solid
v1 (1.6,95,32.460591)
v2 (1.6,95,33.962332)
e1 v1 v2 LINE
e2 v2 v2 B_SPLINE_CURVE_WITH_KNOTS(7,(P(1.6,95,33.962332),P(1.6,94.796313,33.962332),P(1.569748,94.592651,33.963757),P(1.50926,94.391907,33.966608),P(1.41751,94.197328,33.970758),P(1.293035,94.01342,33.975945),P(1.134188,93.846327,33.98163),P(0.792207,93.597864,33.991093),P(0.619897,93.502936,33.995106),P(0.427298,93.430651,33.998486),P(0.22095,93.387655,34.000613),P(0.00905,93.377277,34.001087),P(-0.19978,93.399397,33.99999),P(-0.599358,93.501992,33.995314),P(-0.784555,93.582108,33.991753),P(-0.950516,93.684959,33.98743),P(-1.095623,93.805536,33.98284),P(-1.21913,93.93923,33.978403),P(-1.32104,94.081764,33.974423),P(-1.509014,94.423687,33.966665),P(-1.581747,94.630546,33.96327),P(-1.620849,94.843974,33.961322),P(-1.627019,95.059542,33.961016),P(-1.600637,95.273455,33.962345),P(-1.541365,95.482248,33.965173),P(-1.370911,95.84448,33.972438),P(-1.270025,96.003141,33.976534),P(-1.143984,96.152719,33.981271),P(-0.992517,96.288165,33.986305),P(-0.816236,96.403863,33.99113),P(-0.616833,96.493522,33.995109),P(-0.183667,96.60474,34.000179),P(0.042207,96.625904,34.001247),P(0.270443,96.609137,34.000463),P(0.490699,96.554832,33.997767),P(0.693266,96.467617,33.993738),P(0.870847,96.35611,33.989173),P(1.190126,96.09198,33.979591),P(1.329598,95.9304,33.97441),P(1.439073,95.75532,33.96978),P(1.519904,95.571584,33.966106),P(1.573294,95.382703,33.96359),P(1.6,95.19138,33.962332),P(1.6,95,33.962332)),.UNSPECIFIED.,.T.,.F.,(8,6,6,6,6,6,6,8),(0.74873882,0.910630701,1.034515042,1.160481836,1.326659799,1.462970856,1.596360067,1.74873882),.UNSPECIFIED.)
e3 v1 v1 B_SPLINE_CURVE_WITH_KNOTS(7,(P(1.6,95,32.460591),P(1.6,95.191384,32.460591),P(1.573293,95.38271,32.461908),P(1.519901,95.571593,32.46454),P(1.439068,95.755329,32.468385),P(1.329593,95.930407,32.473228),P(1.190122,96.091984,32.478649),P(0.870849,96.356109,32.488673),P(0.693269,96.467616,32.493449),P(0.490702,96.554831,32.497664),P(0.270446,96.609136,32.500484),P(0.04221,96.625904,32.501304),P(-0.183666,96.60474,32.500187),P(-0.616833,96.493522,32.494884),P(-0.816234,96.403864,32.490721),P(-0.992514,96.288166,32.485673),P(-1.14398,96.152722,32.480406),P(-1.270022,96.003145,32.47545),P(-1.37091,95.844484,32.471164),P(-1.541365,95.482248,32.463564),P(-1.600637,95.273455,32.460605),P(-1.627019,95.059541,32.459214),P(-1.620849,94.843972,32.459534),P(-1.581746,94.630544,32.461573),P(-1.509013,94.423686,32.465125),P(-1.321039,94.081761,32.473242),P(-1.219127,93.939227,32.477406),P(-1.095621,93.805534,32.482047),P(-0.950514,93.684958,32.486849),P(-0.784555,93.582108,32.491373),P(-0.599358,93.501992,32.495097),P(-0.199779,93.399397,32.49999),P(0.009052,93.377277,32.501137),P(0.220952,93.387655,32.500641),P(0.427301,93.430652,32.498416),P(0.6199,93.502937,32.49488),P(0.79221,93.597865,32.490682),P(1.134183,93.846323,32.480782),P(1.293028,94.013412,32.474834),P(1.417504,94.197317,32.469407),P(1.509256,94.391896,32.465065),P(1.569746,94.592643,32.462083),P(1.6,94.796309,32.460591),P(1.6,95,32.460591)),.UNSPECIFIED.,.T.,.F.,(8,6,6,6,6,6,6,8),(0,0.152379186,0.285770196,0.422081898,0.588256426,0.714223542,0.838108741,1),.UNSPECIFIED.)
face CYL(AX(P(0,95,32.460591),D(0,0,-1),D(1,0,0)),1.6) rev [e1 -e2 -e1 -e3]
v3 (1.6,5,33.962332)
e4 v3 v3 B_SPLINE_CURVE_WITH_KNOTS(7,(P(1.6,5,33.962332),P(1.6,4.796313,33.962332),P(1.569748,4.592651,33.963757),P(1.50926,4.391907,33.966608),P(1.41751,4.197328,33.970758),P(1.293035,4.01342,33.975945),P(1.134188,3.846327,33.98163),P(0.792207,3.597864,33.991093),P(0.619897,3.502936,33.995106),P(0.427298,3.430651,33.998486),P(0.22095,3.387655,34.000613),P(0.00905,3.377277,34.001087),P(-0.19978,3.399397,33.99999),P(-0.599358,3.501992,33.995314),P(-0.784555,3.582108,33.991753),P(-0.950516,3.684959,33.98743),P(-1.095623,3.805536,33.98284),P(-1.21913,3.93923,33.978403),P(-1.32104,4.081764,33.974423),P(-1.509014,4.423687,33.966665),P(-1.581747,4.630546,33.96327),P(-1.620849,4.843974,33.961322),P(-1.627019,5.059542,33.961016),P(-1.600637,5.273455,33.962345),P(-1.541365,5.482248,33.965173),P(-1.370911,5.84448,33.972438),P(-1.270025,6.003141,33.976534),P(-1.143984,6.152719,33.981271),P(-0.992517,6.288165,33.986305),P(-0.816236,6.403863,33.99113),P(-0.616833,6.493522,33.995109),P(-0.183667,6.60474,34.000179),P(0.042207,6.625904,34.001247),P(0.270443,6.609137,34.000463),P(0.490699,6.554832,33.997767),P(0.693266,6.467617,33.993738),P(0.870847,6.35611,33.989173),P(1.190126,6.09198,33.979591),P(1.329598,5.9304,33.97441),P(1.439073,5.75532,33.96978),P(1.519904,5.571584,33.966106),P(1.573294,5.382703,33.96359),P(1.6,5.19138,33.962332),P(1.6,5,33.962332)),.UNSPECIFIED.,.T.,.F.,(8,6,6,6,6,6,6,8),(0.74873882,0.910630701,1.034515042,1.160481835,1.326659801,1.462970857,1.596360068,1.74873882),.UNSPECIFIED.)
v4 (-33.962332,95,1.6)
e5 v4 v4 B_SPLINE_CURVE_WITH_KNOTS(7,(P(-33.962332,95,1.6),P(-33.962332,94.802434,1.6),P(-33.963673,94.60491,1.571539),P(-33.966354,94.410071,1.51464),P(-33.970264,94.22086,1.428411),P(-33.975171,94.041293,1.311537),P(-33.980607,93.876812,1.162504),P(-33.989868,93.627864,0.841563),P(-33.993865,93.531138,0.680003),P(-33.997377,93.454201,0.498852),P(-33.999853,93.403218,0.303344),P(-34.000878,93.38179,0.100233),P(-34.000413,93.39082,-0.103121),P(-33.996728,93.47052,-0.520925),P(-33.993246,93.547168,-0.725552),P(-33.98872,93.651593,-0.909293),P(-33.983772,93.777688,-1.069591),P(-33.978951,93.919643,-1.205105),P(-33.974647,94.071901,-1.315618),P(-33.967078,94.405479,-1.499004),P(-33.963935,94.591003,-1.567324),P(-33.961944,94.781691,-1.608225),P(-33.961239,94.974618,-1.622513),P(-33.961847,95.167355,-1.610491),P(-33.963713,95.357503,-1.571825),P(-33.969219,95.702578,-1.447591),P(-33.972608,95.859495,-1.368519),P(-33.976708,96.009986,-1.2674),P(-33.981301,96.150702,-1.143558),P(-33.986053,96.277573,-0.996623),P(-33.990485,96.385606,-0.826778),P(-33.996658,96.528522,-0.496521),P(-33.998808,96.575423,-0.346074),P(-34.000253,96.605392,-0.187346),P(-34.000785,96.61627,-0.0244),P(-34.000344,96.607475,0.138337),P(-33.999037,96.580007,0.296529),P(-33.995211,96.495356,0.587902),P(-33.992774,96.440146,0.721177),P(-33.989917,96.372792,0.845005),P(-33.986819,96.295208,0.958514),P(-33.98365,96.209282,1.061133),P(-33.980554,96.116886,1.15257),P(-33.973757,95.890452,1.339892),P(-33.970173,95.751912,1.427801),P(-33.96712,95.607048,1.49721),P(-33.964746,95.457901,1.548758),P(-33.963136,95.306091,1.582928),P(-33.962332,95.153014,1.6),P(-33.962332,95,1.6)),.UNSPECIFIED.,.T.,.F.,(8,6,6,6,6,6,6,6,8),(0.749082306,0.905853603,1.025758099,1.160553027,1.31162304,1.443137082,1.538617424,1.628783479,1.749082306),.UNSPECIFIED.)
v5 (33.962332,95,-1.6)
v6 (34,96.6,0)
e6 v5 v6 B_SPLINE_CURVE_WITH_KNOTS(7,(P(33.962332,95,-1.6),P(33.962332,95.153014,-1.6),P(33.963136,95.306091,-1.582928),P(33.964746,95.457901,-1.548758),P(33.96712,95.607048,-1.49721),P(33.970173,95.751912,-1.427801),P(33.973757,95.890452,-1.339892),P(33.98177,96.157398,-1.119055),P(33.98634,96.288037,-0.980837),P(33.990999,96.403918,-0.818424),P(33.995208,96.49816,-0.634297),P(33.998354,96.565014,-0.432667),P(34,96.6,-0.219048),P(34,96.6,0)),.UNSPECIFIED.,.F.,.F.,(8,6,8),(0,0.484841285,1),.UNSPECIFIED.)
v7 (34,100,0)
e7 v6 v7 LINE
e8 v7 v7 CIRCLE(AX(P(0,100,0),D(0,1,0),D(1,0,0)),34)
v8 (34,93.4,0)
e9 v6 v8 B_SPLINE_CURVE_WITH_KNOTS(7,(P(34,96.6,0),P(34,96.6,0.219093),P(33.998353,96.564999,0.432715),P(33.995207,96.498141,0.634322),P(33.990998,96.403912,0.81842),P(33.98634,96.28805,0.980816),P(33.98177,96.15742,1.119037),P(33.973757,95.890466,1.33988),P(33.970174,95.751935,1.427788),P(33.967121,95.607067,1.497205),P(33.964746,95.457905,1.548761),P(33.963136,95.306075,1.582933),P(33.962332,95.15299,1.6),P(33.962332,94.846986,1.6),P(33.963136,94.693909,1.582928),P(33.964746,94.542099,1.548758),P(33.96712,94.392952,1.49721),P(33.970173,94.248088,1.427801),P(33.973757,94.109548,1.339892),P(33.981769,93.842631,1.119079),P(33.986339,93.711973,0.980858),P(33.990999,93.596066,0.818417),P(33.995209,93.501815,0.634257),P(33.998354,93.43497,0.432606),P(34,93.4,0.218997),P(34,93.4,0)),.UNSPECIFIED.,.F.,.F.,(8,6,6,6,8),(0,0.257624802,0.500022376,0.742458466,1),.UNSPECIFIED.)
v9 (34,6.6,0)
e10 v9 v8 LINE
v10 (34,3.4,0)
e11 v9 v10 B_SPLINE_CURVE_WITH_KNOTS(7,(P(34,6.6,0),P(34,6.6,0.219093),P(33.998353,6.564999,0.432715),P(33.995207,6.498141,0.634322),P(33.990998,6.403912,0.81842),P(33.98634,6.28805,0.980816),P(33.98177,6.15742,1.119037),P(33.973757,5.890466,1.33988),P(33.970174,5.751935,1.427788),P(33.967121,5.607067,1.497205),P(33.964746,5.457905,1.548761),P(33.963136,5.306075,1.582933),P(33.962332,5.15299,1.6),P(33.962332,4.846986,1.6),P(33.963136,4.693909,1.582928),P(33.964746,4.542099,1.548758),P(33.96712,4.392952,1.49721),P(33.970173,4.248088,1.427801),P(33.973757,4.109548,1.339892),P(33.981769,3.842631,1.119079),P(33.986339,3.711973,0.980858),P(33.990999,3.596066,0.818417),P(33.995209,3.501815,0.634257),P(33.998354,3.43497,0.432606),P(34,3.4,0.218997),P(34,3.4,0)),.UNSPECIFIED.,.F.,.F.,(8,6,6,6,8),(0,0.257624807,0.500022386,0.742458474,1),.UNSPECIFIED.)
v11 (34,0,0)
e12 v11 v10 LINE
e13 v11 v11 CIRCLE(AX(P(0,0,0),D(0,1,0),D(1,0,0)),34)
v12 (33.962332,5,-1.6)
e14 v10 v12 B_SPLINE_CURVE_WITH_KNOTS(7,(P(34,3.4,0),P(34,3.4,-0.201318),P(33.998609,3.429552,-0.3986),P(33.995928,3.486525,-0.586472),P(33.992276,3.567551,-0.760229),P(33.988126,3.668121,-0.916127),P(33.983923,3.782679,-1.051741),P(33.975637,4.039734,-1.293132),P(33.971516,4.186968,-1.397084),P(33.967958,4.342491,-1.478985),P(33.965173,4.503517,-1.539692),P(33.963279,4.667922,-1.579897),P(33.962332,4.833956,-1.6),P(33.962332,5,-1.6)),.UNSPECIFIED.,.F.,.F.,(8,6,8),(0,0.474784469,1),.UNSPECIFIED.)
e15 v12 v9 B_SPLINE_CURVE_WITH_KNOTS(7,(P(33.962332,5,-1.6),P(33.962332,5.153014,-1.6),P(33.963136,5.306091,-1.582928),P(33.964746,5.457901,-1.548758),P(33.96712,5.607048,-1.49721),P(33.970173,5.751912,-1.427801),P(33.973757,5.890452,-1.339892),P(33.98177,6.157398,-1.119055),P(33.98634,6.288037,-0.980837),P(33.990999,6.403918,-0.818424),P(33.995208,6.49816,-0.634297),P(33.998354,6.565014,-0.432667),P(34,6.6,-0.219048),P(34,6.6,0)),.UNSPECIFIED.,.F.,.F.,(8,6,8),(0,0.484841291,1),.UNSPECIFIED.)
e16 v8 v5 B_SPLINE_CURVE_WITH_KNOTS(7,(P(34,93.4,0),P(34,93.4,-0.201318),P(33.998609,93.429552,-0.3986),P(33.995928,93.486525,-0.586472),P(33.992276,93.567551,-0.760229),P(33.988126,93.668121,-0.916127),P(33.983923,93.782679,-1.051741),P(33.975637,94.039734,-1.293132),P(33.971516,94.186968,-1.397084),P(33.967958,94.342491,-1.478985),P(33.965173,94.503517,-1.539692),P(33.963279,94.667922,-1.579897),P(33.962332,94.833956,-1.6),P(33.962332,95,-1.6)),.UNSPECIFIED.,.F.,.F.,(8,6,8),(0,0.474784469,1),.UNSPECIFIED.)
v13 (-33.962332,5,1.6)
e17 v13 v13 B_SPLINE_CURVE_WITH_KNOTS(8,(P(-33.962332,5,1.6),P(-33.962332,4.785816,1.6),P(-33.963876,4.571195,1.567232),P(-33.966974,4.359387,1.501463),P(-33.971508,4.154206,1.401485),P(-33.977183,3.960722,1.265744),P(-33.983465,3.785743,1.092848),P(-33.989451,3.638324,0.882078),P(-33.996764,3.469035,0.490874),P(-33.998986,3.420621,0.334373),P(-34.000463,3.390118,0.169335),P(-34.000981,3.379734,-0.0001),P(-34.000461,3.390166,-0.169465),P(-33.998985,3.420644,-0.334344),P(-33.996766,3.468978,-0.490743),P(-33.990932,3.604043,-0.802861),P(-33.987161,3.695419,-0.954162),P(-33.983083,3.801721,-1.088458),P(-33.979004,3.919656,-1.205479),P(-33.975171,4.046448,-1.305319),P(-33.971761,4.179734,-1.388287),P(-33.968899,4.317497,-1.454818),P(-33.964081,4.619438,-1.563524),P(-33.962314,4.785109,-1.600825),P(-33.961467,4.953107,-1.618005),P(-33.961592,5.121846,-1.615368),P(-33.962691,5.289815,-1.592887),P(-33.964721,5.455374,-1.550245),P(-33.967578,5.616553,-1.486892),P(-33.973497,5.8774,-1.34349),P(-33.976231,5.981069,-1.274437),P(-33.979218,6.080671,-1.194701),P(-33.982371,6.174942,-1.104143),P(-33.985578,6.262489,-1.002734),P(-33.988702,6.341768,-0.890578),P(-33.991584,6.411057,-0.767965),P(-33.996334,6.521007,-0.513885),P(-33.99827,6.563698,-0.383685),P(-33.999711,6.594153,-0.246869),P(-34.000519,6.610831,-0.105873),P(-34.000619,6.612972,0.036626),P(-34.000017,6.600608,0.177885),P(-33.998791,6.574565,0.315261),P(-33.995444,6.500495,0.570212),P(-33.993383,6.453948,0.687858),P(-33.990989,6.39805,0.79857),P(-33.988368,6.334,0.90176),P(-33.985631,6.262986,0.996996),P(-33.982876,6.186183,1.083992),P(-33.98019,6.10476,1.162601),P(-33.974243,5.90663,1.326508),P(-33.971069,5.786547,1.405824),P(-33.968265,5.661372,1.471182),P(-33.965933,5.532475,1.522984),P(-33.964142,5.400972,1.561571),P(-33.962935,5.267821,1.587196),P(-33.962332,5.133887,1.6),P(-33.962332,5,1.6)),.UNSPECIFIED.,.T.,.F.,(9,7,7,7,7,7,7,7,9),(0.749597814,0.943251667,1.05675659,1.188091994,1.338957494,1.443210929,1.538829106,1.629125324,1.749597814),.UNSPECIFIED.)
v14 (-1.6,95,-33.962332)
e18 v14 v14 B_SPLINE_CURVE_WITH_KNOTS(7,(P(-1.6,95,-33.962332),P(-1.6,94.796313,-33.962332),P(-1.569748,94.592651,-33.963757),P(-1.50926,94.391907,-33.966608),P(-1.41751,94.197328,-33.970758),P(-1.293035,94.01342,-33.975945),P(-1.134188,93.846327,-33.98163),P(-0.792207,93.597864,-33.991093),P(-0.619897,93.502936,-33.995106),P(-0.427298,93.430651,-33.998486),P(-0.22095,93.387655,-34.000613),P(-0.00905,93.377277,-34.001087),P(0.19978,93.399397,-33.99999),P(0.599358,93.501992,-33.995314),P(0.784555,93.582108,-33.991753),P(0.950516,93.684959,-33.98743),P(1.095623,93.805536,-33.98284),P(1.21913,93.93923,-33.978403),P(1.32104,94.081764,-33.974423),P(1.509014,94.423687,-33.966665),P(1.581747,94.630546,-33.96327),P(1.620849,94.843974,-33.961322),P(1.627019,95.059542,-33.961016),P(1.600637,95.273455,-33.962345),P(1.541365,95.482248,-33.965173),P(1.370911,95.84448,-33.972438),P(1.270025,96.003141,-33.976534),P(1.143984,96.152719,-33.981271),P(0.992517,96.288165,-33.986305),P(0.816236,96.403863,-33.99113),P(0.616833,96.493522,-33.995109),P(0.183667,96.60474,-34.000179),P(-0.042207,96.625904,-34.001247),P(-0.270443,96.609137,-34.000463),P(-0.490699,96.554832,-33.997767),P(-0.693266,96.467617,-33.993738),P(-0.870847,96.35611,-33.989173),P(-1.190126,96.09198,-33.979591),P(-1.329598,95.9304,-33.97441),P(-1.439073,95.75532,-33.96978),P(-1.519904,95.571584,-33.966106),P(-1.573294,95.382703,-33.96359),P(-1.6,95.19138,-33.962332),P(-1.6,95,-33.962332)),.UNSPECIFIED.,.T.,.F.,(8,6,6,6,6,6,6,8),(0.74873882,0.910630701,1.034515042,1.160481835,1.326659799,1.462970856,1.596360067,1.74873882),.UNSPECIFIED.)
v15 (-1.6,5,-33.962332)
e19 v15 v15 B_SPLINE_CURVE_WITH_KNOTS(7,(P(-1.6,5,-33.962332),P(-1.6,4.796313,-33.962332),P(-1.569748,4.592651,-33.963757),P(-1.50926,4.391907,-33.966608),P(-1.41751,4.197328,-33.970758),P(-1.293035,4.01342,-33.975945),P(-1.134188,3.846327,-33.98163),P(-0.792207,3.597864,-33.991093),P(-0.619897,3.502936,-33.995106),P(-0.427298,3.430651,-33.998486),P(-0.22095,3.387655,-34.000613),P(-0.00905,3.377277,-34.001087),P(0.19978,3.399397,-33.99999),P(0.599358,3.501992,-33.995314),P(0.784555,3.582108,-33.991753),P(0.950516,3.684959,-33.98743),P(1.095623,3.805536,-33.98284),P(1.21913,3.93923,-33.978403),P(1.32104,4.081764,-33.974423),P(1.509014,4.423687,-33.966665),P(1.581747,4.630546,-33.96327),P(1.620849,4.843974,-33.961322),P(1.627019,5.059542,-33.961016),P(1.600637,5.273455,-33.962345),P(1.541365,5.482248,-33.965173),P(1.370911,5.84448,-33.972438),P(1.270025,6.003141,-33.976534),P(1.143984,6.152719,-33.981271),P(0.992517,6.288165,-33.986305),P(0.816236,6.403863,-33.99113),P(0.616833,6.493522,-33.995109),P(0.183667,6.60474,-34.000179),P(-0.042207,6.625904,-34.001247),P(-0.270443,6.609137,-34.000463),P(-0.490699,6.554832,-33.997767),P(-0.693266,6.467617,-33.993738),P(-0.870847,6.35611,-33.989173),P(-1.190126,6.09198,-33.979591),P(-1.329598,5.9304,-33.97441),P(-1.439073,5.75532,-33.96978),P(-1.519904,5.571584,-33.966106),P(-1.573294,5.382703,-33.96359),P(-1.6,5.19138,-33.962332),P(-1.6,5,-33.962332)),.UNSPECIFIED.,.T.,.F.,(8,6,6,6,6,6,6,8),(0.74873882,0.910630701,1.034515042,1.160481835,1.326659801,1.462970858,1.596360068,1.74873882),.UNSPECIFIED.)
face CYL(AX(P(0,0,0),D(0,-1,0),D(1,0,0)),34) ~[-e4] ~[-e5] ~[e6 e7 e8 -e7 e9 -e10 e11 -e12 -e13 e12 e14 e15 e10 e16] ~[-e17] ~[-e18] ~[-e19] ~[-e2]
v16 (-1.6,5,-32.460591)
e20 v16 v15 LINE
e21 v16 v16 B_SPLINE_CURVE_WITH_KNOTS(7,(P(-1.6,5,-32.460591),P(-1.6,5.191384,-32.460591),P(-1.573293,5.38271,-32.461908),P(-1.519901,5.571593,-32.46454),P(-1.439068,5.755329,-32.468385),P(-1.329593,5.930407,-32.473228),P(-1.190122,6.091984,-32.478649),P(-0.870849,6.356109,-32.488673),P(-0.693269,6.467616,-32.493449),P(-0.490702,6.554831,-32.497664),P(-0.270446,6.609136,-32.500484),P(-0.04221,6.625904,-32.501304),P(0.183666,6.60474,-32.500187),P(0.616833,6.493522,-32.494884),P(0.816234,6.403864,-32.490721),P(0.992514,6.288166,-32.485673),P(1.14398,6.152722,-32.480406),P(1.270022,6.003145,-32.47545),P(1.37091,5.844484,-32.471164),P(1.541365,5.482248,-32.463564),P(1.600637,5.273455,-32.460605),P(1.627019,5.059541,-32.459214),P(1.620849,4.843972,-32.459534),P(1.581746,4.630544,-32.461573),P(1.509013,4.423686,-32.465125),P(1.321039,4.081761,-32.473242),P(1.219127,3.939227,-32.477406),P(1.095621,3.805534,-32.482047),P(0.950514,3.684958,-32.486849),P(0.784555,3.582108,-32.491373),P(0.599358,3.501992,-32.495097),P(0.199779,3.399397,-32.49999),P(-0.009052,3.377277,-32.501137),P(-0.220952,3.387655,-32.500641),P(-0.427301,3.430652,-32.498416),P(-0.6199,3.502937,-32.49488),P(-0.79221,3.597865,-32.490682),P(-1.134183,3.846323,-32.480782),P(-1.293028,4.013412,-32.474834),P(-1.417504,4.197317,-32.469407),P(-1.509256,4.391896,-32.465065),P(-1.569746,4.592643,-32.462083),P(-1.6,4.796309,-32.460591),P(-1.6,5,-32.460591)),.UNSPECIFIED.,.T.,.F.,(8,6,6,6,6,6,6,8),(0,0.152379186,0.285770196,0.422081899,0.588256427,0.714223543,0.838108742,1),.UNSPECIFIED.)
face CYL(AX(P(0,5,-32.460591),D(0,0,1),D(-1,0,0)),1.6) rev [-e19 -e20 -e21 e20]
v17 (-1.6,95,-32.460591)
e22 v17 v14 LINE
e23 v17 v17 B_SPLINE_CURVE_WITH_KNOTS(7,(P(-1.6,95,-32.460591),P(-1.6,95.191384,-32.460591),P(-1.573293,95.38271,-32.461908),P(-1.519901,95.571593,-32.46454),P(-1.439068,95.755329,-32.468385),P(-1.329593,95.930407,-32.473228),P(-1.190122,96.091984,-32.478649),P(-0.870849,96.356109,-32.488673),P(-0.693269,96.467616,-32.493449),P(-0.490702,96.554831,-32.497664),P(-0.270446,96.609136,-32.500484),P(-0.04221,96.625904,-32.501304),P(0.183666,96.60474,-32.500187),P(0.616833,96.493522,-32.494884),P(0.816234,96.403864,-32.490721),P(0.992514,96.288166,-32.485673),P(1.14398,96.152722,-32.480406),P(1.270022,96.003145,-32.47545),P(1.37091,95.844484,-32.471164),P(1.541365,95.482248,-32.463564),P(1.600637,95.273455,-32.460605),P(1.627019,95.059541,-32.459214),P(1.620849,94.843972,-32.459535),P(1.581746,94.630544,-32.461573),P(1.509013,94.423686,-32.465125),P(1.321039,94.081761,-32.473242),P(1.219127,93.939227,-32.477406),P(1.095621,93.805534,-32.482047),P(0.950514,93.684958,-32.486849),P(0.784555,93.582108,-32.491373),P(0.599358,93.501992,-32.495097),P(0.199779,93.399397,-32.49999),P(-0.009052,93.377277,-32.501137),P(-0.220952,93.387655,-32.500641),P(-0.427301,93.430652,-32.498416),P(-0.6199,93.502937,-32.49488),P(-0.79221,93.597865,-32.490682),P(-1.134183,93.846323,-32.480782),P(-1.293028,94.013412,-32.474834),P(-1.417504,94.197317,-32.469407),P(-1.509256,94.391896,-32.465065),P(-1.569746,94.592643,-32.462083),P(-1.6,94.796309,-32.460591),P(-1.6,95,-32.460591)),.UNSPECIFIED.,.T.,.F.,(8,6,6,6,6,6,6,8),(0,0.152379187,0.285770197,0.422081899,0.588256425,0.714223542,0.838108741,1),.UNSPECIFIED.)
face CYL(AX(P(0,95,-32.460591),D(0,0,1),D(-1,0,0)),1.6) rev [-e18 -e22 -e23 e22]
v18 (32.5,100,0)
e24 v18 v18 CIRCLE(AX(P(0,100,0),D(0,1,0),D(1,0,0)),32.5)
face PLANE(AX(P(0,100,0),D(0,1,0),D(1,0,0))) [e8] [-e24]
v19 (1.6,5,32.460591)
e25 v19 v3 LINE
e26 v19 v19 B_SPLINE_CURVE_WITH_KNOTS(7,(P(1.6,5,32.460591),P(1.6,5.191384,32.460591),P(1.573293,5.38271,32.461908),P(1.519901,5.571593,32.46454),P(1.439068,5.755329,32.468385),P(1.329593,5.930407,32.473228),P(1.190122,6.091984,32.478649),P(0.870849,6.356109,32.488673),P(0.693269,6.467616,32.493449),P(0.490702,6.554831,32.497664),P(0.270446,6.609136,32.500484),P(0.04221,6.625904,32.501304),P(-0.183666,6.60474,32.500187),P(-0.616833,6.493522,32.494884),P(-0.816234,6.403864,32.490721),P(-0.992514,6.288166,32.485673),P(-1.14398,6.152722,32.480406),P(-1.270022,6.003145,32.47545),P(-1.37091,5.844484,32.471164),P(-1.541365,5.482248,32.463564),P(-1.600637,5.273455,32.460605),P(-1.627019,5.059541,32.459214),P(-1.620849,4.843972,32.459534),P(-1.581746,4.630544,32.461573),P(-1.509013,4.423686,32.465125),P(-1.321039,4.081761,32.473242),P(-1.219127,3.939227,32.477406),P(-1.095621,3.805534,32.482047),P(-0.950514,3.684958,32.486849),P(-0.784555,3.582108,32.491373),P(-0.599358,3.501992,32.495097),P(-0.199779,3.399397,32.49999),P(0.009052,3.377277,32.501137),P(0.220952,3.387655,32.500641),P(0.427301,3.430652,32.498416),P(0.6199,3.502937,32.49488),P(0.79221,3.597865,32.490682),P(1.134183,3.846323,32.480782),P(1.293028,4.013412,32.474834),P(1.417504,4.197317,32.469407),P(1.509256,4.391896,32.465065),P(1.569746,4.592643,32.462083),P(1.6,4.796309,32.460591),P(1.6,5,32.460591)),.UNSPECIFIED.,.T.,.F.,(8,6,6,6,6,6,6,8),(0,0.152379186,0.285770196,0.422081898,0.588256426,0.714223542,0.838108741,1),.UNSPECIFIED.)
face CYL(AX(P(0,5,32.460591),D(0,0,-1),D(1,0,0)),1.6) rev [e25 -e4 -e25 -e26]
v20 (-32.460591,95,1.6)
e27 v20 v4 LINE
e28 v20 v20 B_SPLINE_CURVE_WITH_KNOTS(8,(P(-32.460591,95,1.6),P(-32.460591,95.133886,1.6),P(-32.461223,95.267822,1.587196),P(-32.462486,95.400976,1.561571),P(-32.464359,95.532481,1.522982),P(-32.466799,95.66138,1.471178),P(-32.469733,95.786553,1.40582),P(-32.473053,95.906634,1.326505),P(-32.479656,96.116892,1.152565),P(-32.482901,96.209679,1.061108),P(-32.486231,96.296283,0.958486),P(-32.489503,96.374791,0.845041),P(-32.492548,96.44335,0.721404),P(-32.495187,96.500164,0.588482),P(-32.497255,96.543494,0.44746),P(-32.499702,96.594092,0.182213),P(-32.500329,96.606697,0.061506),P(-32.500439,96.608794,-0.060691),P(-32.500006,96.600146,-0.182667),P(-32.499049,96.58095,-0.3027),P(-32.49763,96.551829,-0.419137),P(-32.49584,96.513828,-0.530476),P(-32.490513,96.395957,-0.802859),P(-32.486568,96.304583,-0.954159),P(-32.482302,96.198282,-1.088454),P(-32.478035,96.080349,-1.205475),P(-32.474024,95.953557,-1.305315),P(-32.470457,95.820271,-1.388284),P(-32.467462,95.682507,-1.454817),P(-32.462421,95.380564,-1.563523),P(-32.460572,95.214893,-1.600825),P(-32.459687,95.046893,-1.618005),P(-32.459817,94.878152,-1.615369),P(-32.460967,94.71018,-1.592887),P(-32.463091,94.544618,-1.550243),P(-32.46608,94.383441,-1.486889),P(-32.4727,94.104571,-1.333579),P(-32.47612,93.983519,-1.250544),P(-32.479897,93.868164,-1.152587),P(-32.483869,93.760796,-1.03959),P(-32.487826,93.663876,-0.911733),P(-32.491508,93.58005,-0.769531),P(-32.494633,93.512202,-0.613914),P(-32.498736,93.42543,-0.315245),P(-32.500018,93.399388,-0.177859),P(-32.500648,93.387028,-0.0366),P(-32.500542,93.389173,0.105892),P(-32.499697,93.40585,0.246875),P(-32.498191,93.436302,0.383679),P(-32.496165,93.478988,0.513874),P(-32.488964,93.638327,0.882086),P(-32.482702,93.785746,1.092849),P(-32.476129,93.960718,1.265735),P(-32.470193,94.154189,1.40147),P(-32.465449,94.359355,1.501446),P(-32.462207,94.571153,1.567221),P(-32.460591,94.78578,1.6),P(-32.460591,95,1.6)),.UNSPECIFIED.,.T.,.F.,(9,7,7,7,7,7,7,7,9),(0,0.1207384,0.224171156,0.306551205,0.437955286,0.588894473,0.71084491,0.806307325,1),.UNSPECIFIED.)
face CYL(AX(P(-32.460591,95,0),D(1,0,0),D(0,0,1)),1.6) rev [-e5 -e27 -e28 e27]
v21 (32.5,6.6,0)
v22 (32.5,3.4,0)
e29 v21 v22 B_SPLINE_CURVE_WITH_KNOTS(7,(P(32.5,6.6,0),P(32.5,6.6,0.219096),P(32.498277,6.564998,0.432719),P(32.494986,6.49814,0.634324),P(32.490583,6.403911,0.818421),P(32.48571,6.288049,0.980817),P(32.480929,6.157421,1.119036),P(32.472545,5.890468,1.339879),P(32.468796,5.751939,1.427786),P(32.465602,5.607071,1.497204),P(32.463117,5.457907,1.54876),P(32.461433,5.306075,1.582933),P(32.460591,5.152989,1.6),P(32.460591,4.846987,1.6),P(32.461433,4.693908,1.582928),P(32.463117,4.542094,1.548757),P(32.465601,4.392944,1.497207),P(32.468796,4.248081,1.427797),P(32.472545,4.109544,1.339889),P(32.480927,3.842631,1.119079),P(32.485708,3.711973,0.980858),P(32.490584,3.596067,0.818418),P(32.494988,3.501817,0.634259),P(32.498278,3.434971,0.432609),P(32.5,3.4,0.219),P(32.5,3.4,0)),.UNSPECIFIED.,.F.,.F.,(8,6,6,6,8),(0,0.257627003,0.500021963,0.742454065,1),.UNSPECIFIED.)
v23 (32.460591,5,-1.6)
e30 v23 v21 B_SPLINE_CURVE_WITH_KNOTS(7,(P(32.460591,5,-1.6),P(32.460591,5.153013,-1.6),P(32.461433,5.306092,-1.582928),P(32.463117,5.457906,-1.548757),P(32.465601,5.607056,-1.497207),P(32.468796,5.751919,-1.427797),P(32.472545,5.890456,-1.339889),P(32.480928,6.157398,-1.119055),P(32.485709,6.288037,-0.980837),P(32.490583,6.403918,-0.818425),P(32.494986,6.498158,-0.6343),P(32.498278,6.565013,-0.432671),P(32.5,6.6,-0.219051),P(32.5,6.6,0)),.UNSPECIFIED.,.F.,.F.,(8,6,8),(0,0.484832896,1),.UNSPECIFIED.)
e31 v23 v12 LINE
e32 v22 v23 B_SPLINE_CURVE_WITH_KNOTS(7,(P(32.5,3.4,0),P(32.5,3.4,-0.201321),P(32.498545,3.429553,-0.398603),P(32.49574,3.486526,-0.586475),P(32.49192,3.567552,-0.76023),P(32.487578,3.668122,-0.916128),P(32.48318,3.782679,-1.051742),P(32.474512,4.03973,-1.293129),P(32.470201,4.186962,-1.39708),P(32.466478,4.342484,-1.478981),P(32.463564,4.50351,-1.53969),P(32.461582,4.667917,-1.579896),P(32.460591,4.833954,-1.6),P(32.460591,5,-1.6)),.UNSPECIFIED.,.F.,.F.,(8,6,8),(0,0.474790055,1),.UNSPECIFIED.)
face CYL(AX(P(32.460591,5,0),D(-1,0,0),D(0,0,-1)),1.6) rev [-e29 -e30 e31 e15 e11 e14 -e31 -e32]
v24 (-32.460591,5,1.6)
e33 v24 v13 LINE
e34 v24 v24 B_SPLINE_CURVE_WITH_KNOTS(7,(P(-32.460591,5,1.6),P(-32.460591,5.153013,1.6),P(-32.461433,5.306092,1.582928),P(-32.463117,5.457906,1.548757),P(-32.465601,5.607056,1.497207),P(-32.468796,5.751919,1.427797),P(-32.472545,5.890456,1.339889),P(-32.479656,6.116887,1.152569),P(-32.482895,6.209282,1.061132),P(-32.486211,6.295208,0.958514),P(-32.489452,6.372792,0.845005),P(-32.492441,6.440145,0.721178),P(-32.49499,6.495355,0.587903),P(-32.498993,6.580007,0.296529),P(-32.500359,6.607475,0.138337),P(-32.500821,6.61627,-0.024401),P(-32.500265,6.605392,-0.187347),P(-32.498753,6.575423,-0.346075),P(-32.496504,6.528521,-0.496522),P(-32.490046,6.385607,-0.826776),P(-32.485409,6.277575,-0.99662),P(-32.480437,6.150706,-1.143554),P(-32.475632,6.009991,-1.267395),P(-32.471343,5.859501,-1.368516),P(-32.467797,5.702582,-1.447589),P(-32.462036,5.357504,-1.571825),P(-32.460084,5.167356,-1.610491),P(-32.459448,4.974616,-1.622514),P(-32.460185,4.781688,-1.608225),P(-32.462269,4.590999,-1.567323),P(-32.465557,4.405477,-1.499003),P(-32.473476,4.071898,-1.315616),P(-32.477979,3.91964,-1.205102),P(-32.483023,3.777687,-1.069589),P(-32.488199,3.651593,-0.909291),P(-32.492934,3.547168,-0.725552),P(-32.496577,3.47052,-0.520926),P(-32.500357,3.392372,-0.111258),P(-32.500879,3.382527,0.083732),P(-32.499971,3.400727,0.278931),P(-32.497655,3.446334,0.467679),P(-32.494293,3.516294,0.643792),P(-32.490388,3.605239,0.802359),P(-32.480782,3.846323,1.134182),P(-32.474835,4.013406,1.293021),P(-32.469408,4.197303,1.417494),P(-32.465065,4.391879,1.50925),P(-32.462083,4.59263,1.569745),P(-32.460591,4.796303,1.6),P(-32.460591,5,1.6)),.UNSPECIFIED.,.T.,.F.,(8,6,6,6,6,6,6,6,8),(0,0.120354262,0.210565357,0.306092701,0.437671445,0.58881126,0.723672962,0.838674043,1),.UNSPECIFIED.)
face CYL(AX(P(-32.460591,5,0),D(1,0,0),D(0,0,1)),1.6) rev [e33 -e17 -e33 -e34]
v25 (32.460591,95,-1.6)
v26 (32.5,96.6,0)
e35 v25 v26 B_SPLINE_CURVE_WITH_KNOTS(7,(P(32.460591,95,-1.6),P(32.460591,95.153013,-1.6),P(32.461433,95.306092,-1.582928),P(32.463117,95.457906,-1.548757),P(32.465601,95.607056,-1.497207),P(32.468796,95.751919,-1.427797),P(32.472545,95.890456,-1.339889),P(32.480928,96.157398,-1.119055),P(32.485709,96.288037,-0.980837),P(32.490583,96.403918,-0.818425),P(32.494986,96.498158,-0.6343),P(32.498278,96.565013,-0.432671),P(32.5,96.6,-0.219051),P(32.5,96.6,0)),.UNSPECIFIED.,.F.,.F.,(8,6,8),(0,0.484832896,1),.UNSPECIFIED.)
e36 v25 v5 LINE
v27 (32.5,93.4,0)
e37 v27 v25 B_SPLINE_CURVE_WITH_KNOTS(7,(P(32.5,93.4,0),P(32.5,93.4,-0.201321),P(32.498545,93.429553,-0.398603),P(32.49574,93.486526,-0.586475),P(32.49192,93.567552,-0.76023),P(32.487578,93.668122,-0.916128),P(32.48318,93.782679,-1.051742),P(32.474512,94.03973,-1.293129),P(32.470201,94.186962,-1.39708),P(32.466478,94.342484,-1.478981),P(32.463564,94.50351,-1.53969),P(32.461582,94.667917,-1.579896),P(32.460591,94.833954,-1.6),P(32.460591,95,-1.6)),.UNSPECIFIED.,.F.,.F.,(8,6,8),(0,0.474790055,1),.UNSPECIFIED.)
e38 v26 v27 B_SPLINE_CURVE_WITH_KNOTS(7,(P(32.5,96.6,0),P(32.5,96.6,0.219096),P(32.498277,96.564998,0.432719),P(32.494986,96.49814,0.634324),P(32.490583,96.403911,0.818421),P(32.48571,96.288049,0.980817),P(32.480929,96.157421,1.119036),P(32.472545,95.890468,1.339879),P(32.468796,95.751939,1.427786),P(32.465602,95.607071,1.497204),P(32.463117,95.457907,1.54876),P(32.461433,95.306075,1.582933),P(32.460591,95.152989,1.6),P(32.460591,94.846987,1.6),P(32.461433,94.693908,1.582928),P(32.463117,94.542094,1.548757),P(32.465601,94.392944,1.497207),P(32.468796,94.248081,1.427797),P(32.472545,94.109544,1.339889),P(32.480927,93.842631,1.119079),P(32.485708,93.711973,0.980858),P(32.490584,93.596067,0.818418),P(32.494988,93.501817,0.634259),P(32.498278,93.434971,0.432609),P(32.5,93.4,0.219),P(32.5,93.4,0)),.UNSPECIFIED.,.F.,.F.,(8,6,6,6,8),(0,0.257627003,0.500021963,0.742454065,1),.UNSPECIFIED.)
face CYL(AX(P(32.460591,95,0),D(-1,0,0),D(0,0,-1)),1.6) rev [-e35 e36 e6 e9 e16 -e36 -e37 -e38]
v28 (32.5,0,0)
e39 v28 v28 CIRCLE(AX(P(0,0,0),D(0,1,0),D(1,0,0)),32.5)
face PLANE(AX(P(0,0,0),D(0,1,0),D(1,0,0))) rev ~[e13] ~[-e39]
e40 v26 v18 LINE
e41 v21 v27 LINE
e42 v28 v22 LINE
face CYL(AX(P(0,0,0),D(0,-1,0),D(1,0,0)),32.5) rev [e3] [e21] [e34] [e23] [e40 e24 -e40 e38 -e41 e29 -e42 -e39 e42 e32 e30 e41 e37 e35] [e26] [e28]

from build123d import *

# Parameters (mm, degrees)
SKETCH_1_R               = 34
SKETCH_1_R_2             = 32.5
EXTRUDE_1_DEPTH          = 100
CUT_EXTRUDE_START        = -1.539409
SKETCH_3_R               = 1.6
CUT_EXTRUDE_4_DEPTH      = 1.539409
PATTERN_CIRCULAR_1_COUNT = 4
SKETCH_5_R               = 1.6
CUT_EXTRUDE_5_DEPTH      = 1.539409
PATTERN_CIRCULAR_2_COUNT = 4


with BuildPart() as part:
    # 草图1 → 凸台-拉伸1 (new body)
    with BuildSketch(Plane(origin=(0, 0, 0), x_dir=(1, 0, 0), z_dir=(0, 1, 0))):
        Circle(SKETCH_1_R)
        Circle(SKETCH_1_R_2, mode=Mode.SUBTRACT)
    extrude(amount=EXTRUDE_1_DEPTH)

    # 草图3 → 切除-拉伸4 (cut)
    with BuildSketch(Plane.XY.offset(34).offset(CUT_EXTRUDE_START)):
        with Locations((0, 5)):
            Circle(SKETCH_3_R)
    cut_extrude_4 = extrude(amount=CUT_EXTRUDE_4_DEPTH, mode=Mode.SUBTRACT)

    # 阵列(圆周)1: 切除-拉伸4 ×4 about axis
    pattern_circular_1_axis = Axis((0, 100, 0), (0, -1, 0))
    for i in range(1, PATTERN_CIRCULAR_1_COUNT):
        add(cut_extrude_4.rotate(pattern_circular_1_axis, i * 360 / PATTERN_CIRCULAR_1_COUNT), mode=Mode.SUBTRACT)

    # 草图5 → 切除-拉伸5 (cut)
    with BuildSketch(Plane.XY.offset(34).offset(CUT_EXTRUDE_START)):
        with Locations((0, 95)):
            Circle(SKETCH_5_R)
    cut_extrude_5 = extrude(amount=CUT_EXTRUDE_5_DEPTH, mode=Mode.SUBTRACT)

    # 阵列(圆周)2: 切除-拉伸5 ×4 about axis
    pattern_circular_2_axis = Axis((0, 100, 0), (0, -1, 0))
    for i in range(1, PATTERN_CIRCULAR_2_COUNT):
        add(cut_extrude_5.rotate(pattern_circular_2_axis, i * 360 / PATTERN_CIRCULAR_2_COUNT), mode=Mode.SUBTRACT)


solid = part.part
